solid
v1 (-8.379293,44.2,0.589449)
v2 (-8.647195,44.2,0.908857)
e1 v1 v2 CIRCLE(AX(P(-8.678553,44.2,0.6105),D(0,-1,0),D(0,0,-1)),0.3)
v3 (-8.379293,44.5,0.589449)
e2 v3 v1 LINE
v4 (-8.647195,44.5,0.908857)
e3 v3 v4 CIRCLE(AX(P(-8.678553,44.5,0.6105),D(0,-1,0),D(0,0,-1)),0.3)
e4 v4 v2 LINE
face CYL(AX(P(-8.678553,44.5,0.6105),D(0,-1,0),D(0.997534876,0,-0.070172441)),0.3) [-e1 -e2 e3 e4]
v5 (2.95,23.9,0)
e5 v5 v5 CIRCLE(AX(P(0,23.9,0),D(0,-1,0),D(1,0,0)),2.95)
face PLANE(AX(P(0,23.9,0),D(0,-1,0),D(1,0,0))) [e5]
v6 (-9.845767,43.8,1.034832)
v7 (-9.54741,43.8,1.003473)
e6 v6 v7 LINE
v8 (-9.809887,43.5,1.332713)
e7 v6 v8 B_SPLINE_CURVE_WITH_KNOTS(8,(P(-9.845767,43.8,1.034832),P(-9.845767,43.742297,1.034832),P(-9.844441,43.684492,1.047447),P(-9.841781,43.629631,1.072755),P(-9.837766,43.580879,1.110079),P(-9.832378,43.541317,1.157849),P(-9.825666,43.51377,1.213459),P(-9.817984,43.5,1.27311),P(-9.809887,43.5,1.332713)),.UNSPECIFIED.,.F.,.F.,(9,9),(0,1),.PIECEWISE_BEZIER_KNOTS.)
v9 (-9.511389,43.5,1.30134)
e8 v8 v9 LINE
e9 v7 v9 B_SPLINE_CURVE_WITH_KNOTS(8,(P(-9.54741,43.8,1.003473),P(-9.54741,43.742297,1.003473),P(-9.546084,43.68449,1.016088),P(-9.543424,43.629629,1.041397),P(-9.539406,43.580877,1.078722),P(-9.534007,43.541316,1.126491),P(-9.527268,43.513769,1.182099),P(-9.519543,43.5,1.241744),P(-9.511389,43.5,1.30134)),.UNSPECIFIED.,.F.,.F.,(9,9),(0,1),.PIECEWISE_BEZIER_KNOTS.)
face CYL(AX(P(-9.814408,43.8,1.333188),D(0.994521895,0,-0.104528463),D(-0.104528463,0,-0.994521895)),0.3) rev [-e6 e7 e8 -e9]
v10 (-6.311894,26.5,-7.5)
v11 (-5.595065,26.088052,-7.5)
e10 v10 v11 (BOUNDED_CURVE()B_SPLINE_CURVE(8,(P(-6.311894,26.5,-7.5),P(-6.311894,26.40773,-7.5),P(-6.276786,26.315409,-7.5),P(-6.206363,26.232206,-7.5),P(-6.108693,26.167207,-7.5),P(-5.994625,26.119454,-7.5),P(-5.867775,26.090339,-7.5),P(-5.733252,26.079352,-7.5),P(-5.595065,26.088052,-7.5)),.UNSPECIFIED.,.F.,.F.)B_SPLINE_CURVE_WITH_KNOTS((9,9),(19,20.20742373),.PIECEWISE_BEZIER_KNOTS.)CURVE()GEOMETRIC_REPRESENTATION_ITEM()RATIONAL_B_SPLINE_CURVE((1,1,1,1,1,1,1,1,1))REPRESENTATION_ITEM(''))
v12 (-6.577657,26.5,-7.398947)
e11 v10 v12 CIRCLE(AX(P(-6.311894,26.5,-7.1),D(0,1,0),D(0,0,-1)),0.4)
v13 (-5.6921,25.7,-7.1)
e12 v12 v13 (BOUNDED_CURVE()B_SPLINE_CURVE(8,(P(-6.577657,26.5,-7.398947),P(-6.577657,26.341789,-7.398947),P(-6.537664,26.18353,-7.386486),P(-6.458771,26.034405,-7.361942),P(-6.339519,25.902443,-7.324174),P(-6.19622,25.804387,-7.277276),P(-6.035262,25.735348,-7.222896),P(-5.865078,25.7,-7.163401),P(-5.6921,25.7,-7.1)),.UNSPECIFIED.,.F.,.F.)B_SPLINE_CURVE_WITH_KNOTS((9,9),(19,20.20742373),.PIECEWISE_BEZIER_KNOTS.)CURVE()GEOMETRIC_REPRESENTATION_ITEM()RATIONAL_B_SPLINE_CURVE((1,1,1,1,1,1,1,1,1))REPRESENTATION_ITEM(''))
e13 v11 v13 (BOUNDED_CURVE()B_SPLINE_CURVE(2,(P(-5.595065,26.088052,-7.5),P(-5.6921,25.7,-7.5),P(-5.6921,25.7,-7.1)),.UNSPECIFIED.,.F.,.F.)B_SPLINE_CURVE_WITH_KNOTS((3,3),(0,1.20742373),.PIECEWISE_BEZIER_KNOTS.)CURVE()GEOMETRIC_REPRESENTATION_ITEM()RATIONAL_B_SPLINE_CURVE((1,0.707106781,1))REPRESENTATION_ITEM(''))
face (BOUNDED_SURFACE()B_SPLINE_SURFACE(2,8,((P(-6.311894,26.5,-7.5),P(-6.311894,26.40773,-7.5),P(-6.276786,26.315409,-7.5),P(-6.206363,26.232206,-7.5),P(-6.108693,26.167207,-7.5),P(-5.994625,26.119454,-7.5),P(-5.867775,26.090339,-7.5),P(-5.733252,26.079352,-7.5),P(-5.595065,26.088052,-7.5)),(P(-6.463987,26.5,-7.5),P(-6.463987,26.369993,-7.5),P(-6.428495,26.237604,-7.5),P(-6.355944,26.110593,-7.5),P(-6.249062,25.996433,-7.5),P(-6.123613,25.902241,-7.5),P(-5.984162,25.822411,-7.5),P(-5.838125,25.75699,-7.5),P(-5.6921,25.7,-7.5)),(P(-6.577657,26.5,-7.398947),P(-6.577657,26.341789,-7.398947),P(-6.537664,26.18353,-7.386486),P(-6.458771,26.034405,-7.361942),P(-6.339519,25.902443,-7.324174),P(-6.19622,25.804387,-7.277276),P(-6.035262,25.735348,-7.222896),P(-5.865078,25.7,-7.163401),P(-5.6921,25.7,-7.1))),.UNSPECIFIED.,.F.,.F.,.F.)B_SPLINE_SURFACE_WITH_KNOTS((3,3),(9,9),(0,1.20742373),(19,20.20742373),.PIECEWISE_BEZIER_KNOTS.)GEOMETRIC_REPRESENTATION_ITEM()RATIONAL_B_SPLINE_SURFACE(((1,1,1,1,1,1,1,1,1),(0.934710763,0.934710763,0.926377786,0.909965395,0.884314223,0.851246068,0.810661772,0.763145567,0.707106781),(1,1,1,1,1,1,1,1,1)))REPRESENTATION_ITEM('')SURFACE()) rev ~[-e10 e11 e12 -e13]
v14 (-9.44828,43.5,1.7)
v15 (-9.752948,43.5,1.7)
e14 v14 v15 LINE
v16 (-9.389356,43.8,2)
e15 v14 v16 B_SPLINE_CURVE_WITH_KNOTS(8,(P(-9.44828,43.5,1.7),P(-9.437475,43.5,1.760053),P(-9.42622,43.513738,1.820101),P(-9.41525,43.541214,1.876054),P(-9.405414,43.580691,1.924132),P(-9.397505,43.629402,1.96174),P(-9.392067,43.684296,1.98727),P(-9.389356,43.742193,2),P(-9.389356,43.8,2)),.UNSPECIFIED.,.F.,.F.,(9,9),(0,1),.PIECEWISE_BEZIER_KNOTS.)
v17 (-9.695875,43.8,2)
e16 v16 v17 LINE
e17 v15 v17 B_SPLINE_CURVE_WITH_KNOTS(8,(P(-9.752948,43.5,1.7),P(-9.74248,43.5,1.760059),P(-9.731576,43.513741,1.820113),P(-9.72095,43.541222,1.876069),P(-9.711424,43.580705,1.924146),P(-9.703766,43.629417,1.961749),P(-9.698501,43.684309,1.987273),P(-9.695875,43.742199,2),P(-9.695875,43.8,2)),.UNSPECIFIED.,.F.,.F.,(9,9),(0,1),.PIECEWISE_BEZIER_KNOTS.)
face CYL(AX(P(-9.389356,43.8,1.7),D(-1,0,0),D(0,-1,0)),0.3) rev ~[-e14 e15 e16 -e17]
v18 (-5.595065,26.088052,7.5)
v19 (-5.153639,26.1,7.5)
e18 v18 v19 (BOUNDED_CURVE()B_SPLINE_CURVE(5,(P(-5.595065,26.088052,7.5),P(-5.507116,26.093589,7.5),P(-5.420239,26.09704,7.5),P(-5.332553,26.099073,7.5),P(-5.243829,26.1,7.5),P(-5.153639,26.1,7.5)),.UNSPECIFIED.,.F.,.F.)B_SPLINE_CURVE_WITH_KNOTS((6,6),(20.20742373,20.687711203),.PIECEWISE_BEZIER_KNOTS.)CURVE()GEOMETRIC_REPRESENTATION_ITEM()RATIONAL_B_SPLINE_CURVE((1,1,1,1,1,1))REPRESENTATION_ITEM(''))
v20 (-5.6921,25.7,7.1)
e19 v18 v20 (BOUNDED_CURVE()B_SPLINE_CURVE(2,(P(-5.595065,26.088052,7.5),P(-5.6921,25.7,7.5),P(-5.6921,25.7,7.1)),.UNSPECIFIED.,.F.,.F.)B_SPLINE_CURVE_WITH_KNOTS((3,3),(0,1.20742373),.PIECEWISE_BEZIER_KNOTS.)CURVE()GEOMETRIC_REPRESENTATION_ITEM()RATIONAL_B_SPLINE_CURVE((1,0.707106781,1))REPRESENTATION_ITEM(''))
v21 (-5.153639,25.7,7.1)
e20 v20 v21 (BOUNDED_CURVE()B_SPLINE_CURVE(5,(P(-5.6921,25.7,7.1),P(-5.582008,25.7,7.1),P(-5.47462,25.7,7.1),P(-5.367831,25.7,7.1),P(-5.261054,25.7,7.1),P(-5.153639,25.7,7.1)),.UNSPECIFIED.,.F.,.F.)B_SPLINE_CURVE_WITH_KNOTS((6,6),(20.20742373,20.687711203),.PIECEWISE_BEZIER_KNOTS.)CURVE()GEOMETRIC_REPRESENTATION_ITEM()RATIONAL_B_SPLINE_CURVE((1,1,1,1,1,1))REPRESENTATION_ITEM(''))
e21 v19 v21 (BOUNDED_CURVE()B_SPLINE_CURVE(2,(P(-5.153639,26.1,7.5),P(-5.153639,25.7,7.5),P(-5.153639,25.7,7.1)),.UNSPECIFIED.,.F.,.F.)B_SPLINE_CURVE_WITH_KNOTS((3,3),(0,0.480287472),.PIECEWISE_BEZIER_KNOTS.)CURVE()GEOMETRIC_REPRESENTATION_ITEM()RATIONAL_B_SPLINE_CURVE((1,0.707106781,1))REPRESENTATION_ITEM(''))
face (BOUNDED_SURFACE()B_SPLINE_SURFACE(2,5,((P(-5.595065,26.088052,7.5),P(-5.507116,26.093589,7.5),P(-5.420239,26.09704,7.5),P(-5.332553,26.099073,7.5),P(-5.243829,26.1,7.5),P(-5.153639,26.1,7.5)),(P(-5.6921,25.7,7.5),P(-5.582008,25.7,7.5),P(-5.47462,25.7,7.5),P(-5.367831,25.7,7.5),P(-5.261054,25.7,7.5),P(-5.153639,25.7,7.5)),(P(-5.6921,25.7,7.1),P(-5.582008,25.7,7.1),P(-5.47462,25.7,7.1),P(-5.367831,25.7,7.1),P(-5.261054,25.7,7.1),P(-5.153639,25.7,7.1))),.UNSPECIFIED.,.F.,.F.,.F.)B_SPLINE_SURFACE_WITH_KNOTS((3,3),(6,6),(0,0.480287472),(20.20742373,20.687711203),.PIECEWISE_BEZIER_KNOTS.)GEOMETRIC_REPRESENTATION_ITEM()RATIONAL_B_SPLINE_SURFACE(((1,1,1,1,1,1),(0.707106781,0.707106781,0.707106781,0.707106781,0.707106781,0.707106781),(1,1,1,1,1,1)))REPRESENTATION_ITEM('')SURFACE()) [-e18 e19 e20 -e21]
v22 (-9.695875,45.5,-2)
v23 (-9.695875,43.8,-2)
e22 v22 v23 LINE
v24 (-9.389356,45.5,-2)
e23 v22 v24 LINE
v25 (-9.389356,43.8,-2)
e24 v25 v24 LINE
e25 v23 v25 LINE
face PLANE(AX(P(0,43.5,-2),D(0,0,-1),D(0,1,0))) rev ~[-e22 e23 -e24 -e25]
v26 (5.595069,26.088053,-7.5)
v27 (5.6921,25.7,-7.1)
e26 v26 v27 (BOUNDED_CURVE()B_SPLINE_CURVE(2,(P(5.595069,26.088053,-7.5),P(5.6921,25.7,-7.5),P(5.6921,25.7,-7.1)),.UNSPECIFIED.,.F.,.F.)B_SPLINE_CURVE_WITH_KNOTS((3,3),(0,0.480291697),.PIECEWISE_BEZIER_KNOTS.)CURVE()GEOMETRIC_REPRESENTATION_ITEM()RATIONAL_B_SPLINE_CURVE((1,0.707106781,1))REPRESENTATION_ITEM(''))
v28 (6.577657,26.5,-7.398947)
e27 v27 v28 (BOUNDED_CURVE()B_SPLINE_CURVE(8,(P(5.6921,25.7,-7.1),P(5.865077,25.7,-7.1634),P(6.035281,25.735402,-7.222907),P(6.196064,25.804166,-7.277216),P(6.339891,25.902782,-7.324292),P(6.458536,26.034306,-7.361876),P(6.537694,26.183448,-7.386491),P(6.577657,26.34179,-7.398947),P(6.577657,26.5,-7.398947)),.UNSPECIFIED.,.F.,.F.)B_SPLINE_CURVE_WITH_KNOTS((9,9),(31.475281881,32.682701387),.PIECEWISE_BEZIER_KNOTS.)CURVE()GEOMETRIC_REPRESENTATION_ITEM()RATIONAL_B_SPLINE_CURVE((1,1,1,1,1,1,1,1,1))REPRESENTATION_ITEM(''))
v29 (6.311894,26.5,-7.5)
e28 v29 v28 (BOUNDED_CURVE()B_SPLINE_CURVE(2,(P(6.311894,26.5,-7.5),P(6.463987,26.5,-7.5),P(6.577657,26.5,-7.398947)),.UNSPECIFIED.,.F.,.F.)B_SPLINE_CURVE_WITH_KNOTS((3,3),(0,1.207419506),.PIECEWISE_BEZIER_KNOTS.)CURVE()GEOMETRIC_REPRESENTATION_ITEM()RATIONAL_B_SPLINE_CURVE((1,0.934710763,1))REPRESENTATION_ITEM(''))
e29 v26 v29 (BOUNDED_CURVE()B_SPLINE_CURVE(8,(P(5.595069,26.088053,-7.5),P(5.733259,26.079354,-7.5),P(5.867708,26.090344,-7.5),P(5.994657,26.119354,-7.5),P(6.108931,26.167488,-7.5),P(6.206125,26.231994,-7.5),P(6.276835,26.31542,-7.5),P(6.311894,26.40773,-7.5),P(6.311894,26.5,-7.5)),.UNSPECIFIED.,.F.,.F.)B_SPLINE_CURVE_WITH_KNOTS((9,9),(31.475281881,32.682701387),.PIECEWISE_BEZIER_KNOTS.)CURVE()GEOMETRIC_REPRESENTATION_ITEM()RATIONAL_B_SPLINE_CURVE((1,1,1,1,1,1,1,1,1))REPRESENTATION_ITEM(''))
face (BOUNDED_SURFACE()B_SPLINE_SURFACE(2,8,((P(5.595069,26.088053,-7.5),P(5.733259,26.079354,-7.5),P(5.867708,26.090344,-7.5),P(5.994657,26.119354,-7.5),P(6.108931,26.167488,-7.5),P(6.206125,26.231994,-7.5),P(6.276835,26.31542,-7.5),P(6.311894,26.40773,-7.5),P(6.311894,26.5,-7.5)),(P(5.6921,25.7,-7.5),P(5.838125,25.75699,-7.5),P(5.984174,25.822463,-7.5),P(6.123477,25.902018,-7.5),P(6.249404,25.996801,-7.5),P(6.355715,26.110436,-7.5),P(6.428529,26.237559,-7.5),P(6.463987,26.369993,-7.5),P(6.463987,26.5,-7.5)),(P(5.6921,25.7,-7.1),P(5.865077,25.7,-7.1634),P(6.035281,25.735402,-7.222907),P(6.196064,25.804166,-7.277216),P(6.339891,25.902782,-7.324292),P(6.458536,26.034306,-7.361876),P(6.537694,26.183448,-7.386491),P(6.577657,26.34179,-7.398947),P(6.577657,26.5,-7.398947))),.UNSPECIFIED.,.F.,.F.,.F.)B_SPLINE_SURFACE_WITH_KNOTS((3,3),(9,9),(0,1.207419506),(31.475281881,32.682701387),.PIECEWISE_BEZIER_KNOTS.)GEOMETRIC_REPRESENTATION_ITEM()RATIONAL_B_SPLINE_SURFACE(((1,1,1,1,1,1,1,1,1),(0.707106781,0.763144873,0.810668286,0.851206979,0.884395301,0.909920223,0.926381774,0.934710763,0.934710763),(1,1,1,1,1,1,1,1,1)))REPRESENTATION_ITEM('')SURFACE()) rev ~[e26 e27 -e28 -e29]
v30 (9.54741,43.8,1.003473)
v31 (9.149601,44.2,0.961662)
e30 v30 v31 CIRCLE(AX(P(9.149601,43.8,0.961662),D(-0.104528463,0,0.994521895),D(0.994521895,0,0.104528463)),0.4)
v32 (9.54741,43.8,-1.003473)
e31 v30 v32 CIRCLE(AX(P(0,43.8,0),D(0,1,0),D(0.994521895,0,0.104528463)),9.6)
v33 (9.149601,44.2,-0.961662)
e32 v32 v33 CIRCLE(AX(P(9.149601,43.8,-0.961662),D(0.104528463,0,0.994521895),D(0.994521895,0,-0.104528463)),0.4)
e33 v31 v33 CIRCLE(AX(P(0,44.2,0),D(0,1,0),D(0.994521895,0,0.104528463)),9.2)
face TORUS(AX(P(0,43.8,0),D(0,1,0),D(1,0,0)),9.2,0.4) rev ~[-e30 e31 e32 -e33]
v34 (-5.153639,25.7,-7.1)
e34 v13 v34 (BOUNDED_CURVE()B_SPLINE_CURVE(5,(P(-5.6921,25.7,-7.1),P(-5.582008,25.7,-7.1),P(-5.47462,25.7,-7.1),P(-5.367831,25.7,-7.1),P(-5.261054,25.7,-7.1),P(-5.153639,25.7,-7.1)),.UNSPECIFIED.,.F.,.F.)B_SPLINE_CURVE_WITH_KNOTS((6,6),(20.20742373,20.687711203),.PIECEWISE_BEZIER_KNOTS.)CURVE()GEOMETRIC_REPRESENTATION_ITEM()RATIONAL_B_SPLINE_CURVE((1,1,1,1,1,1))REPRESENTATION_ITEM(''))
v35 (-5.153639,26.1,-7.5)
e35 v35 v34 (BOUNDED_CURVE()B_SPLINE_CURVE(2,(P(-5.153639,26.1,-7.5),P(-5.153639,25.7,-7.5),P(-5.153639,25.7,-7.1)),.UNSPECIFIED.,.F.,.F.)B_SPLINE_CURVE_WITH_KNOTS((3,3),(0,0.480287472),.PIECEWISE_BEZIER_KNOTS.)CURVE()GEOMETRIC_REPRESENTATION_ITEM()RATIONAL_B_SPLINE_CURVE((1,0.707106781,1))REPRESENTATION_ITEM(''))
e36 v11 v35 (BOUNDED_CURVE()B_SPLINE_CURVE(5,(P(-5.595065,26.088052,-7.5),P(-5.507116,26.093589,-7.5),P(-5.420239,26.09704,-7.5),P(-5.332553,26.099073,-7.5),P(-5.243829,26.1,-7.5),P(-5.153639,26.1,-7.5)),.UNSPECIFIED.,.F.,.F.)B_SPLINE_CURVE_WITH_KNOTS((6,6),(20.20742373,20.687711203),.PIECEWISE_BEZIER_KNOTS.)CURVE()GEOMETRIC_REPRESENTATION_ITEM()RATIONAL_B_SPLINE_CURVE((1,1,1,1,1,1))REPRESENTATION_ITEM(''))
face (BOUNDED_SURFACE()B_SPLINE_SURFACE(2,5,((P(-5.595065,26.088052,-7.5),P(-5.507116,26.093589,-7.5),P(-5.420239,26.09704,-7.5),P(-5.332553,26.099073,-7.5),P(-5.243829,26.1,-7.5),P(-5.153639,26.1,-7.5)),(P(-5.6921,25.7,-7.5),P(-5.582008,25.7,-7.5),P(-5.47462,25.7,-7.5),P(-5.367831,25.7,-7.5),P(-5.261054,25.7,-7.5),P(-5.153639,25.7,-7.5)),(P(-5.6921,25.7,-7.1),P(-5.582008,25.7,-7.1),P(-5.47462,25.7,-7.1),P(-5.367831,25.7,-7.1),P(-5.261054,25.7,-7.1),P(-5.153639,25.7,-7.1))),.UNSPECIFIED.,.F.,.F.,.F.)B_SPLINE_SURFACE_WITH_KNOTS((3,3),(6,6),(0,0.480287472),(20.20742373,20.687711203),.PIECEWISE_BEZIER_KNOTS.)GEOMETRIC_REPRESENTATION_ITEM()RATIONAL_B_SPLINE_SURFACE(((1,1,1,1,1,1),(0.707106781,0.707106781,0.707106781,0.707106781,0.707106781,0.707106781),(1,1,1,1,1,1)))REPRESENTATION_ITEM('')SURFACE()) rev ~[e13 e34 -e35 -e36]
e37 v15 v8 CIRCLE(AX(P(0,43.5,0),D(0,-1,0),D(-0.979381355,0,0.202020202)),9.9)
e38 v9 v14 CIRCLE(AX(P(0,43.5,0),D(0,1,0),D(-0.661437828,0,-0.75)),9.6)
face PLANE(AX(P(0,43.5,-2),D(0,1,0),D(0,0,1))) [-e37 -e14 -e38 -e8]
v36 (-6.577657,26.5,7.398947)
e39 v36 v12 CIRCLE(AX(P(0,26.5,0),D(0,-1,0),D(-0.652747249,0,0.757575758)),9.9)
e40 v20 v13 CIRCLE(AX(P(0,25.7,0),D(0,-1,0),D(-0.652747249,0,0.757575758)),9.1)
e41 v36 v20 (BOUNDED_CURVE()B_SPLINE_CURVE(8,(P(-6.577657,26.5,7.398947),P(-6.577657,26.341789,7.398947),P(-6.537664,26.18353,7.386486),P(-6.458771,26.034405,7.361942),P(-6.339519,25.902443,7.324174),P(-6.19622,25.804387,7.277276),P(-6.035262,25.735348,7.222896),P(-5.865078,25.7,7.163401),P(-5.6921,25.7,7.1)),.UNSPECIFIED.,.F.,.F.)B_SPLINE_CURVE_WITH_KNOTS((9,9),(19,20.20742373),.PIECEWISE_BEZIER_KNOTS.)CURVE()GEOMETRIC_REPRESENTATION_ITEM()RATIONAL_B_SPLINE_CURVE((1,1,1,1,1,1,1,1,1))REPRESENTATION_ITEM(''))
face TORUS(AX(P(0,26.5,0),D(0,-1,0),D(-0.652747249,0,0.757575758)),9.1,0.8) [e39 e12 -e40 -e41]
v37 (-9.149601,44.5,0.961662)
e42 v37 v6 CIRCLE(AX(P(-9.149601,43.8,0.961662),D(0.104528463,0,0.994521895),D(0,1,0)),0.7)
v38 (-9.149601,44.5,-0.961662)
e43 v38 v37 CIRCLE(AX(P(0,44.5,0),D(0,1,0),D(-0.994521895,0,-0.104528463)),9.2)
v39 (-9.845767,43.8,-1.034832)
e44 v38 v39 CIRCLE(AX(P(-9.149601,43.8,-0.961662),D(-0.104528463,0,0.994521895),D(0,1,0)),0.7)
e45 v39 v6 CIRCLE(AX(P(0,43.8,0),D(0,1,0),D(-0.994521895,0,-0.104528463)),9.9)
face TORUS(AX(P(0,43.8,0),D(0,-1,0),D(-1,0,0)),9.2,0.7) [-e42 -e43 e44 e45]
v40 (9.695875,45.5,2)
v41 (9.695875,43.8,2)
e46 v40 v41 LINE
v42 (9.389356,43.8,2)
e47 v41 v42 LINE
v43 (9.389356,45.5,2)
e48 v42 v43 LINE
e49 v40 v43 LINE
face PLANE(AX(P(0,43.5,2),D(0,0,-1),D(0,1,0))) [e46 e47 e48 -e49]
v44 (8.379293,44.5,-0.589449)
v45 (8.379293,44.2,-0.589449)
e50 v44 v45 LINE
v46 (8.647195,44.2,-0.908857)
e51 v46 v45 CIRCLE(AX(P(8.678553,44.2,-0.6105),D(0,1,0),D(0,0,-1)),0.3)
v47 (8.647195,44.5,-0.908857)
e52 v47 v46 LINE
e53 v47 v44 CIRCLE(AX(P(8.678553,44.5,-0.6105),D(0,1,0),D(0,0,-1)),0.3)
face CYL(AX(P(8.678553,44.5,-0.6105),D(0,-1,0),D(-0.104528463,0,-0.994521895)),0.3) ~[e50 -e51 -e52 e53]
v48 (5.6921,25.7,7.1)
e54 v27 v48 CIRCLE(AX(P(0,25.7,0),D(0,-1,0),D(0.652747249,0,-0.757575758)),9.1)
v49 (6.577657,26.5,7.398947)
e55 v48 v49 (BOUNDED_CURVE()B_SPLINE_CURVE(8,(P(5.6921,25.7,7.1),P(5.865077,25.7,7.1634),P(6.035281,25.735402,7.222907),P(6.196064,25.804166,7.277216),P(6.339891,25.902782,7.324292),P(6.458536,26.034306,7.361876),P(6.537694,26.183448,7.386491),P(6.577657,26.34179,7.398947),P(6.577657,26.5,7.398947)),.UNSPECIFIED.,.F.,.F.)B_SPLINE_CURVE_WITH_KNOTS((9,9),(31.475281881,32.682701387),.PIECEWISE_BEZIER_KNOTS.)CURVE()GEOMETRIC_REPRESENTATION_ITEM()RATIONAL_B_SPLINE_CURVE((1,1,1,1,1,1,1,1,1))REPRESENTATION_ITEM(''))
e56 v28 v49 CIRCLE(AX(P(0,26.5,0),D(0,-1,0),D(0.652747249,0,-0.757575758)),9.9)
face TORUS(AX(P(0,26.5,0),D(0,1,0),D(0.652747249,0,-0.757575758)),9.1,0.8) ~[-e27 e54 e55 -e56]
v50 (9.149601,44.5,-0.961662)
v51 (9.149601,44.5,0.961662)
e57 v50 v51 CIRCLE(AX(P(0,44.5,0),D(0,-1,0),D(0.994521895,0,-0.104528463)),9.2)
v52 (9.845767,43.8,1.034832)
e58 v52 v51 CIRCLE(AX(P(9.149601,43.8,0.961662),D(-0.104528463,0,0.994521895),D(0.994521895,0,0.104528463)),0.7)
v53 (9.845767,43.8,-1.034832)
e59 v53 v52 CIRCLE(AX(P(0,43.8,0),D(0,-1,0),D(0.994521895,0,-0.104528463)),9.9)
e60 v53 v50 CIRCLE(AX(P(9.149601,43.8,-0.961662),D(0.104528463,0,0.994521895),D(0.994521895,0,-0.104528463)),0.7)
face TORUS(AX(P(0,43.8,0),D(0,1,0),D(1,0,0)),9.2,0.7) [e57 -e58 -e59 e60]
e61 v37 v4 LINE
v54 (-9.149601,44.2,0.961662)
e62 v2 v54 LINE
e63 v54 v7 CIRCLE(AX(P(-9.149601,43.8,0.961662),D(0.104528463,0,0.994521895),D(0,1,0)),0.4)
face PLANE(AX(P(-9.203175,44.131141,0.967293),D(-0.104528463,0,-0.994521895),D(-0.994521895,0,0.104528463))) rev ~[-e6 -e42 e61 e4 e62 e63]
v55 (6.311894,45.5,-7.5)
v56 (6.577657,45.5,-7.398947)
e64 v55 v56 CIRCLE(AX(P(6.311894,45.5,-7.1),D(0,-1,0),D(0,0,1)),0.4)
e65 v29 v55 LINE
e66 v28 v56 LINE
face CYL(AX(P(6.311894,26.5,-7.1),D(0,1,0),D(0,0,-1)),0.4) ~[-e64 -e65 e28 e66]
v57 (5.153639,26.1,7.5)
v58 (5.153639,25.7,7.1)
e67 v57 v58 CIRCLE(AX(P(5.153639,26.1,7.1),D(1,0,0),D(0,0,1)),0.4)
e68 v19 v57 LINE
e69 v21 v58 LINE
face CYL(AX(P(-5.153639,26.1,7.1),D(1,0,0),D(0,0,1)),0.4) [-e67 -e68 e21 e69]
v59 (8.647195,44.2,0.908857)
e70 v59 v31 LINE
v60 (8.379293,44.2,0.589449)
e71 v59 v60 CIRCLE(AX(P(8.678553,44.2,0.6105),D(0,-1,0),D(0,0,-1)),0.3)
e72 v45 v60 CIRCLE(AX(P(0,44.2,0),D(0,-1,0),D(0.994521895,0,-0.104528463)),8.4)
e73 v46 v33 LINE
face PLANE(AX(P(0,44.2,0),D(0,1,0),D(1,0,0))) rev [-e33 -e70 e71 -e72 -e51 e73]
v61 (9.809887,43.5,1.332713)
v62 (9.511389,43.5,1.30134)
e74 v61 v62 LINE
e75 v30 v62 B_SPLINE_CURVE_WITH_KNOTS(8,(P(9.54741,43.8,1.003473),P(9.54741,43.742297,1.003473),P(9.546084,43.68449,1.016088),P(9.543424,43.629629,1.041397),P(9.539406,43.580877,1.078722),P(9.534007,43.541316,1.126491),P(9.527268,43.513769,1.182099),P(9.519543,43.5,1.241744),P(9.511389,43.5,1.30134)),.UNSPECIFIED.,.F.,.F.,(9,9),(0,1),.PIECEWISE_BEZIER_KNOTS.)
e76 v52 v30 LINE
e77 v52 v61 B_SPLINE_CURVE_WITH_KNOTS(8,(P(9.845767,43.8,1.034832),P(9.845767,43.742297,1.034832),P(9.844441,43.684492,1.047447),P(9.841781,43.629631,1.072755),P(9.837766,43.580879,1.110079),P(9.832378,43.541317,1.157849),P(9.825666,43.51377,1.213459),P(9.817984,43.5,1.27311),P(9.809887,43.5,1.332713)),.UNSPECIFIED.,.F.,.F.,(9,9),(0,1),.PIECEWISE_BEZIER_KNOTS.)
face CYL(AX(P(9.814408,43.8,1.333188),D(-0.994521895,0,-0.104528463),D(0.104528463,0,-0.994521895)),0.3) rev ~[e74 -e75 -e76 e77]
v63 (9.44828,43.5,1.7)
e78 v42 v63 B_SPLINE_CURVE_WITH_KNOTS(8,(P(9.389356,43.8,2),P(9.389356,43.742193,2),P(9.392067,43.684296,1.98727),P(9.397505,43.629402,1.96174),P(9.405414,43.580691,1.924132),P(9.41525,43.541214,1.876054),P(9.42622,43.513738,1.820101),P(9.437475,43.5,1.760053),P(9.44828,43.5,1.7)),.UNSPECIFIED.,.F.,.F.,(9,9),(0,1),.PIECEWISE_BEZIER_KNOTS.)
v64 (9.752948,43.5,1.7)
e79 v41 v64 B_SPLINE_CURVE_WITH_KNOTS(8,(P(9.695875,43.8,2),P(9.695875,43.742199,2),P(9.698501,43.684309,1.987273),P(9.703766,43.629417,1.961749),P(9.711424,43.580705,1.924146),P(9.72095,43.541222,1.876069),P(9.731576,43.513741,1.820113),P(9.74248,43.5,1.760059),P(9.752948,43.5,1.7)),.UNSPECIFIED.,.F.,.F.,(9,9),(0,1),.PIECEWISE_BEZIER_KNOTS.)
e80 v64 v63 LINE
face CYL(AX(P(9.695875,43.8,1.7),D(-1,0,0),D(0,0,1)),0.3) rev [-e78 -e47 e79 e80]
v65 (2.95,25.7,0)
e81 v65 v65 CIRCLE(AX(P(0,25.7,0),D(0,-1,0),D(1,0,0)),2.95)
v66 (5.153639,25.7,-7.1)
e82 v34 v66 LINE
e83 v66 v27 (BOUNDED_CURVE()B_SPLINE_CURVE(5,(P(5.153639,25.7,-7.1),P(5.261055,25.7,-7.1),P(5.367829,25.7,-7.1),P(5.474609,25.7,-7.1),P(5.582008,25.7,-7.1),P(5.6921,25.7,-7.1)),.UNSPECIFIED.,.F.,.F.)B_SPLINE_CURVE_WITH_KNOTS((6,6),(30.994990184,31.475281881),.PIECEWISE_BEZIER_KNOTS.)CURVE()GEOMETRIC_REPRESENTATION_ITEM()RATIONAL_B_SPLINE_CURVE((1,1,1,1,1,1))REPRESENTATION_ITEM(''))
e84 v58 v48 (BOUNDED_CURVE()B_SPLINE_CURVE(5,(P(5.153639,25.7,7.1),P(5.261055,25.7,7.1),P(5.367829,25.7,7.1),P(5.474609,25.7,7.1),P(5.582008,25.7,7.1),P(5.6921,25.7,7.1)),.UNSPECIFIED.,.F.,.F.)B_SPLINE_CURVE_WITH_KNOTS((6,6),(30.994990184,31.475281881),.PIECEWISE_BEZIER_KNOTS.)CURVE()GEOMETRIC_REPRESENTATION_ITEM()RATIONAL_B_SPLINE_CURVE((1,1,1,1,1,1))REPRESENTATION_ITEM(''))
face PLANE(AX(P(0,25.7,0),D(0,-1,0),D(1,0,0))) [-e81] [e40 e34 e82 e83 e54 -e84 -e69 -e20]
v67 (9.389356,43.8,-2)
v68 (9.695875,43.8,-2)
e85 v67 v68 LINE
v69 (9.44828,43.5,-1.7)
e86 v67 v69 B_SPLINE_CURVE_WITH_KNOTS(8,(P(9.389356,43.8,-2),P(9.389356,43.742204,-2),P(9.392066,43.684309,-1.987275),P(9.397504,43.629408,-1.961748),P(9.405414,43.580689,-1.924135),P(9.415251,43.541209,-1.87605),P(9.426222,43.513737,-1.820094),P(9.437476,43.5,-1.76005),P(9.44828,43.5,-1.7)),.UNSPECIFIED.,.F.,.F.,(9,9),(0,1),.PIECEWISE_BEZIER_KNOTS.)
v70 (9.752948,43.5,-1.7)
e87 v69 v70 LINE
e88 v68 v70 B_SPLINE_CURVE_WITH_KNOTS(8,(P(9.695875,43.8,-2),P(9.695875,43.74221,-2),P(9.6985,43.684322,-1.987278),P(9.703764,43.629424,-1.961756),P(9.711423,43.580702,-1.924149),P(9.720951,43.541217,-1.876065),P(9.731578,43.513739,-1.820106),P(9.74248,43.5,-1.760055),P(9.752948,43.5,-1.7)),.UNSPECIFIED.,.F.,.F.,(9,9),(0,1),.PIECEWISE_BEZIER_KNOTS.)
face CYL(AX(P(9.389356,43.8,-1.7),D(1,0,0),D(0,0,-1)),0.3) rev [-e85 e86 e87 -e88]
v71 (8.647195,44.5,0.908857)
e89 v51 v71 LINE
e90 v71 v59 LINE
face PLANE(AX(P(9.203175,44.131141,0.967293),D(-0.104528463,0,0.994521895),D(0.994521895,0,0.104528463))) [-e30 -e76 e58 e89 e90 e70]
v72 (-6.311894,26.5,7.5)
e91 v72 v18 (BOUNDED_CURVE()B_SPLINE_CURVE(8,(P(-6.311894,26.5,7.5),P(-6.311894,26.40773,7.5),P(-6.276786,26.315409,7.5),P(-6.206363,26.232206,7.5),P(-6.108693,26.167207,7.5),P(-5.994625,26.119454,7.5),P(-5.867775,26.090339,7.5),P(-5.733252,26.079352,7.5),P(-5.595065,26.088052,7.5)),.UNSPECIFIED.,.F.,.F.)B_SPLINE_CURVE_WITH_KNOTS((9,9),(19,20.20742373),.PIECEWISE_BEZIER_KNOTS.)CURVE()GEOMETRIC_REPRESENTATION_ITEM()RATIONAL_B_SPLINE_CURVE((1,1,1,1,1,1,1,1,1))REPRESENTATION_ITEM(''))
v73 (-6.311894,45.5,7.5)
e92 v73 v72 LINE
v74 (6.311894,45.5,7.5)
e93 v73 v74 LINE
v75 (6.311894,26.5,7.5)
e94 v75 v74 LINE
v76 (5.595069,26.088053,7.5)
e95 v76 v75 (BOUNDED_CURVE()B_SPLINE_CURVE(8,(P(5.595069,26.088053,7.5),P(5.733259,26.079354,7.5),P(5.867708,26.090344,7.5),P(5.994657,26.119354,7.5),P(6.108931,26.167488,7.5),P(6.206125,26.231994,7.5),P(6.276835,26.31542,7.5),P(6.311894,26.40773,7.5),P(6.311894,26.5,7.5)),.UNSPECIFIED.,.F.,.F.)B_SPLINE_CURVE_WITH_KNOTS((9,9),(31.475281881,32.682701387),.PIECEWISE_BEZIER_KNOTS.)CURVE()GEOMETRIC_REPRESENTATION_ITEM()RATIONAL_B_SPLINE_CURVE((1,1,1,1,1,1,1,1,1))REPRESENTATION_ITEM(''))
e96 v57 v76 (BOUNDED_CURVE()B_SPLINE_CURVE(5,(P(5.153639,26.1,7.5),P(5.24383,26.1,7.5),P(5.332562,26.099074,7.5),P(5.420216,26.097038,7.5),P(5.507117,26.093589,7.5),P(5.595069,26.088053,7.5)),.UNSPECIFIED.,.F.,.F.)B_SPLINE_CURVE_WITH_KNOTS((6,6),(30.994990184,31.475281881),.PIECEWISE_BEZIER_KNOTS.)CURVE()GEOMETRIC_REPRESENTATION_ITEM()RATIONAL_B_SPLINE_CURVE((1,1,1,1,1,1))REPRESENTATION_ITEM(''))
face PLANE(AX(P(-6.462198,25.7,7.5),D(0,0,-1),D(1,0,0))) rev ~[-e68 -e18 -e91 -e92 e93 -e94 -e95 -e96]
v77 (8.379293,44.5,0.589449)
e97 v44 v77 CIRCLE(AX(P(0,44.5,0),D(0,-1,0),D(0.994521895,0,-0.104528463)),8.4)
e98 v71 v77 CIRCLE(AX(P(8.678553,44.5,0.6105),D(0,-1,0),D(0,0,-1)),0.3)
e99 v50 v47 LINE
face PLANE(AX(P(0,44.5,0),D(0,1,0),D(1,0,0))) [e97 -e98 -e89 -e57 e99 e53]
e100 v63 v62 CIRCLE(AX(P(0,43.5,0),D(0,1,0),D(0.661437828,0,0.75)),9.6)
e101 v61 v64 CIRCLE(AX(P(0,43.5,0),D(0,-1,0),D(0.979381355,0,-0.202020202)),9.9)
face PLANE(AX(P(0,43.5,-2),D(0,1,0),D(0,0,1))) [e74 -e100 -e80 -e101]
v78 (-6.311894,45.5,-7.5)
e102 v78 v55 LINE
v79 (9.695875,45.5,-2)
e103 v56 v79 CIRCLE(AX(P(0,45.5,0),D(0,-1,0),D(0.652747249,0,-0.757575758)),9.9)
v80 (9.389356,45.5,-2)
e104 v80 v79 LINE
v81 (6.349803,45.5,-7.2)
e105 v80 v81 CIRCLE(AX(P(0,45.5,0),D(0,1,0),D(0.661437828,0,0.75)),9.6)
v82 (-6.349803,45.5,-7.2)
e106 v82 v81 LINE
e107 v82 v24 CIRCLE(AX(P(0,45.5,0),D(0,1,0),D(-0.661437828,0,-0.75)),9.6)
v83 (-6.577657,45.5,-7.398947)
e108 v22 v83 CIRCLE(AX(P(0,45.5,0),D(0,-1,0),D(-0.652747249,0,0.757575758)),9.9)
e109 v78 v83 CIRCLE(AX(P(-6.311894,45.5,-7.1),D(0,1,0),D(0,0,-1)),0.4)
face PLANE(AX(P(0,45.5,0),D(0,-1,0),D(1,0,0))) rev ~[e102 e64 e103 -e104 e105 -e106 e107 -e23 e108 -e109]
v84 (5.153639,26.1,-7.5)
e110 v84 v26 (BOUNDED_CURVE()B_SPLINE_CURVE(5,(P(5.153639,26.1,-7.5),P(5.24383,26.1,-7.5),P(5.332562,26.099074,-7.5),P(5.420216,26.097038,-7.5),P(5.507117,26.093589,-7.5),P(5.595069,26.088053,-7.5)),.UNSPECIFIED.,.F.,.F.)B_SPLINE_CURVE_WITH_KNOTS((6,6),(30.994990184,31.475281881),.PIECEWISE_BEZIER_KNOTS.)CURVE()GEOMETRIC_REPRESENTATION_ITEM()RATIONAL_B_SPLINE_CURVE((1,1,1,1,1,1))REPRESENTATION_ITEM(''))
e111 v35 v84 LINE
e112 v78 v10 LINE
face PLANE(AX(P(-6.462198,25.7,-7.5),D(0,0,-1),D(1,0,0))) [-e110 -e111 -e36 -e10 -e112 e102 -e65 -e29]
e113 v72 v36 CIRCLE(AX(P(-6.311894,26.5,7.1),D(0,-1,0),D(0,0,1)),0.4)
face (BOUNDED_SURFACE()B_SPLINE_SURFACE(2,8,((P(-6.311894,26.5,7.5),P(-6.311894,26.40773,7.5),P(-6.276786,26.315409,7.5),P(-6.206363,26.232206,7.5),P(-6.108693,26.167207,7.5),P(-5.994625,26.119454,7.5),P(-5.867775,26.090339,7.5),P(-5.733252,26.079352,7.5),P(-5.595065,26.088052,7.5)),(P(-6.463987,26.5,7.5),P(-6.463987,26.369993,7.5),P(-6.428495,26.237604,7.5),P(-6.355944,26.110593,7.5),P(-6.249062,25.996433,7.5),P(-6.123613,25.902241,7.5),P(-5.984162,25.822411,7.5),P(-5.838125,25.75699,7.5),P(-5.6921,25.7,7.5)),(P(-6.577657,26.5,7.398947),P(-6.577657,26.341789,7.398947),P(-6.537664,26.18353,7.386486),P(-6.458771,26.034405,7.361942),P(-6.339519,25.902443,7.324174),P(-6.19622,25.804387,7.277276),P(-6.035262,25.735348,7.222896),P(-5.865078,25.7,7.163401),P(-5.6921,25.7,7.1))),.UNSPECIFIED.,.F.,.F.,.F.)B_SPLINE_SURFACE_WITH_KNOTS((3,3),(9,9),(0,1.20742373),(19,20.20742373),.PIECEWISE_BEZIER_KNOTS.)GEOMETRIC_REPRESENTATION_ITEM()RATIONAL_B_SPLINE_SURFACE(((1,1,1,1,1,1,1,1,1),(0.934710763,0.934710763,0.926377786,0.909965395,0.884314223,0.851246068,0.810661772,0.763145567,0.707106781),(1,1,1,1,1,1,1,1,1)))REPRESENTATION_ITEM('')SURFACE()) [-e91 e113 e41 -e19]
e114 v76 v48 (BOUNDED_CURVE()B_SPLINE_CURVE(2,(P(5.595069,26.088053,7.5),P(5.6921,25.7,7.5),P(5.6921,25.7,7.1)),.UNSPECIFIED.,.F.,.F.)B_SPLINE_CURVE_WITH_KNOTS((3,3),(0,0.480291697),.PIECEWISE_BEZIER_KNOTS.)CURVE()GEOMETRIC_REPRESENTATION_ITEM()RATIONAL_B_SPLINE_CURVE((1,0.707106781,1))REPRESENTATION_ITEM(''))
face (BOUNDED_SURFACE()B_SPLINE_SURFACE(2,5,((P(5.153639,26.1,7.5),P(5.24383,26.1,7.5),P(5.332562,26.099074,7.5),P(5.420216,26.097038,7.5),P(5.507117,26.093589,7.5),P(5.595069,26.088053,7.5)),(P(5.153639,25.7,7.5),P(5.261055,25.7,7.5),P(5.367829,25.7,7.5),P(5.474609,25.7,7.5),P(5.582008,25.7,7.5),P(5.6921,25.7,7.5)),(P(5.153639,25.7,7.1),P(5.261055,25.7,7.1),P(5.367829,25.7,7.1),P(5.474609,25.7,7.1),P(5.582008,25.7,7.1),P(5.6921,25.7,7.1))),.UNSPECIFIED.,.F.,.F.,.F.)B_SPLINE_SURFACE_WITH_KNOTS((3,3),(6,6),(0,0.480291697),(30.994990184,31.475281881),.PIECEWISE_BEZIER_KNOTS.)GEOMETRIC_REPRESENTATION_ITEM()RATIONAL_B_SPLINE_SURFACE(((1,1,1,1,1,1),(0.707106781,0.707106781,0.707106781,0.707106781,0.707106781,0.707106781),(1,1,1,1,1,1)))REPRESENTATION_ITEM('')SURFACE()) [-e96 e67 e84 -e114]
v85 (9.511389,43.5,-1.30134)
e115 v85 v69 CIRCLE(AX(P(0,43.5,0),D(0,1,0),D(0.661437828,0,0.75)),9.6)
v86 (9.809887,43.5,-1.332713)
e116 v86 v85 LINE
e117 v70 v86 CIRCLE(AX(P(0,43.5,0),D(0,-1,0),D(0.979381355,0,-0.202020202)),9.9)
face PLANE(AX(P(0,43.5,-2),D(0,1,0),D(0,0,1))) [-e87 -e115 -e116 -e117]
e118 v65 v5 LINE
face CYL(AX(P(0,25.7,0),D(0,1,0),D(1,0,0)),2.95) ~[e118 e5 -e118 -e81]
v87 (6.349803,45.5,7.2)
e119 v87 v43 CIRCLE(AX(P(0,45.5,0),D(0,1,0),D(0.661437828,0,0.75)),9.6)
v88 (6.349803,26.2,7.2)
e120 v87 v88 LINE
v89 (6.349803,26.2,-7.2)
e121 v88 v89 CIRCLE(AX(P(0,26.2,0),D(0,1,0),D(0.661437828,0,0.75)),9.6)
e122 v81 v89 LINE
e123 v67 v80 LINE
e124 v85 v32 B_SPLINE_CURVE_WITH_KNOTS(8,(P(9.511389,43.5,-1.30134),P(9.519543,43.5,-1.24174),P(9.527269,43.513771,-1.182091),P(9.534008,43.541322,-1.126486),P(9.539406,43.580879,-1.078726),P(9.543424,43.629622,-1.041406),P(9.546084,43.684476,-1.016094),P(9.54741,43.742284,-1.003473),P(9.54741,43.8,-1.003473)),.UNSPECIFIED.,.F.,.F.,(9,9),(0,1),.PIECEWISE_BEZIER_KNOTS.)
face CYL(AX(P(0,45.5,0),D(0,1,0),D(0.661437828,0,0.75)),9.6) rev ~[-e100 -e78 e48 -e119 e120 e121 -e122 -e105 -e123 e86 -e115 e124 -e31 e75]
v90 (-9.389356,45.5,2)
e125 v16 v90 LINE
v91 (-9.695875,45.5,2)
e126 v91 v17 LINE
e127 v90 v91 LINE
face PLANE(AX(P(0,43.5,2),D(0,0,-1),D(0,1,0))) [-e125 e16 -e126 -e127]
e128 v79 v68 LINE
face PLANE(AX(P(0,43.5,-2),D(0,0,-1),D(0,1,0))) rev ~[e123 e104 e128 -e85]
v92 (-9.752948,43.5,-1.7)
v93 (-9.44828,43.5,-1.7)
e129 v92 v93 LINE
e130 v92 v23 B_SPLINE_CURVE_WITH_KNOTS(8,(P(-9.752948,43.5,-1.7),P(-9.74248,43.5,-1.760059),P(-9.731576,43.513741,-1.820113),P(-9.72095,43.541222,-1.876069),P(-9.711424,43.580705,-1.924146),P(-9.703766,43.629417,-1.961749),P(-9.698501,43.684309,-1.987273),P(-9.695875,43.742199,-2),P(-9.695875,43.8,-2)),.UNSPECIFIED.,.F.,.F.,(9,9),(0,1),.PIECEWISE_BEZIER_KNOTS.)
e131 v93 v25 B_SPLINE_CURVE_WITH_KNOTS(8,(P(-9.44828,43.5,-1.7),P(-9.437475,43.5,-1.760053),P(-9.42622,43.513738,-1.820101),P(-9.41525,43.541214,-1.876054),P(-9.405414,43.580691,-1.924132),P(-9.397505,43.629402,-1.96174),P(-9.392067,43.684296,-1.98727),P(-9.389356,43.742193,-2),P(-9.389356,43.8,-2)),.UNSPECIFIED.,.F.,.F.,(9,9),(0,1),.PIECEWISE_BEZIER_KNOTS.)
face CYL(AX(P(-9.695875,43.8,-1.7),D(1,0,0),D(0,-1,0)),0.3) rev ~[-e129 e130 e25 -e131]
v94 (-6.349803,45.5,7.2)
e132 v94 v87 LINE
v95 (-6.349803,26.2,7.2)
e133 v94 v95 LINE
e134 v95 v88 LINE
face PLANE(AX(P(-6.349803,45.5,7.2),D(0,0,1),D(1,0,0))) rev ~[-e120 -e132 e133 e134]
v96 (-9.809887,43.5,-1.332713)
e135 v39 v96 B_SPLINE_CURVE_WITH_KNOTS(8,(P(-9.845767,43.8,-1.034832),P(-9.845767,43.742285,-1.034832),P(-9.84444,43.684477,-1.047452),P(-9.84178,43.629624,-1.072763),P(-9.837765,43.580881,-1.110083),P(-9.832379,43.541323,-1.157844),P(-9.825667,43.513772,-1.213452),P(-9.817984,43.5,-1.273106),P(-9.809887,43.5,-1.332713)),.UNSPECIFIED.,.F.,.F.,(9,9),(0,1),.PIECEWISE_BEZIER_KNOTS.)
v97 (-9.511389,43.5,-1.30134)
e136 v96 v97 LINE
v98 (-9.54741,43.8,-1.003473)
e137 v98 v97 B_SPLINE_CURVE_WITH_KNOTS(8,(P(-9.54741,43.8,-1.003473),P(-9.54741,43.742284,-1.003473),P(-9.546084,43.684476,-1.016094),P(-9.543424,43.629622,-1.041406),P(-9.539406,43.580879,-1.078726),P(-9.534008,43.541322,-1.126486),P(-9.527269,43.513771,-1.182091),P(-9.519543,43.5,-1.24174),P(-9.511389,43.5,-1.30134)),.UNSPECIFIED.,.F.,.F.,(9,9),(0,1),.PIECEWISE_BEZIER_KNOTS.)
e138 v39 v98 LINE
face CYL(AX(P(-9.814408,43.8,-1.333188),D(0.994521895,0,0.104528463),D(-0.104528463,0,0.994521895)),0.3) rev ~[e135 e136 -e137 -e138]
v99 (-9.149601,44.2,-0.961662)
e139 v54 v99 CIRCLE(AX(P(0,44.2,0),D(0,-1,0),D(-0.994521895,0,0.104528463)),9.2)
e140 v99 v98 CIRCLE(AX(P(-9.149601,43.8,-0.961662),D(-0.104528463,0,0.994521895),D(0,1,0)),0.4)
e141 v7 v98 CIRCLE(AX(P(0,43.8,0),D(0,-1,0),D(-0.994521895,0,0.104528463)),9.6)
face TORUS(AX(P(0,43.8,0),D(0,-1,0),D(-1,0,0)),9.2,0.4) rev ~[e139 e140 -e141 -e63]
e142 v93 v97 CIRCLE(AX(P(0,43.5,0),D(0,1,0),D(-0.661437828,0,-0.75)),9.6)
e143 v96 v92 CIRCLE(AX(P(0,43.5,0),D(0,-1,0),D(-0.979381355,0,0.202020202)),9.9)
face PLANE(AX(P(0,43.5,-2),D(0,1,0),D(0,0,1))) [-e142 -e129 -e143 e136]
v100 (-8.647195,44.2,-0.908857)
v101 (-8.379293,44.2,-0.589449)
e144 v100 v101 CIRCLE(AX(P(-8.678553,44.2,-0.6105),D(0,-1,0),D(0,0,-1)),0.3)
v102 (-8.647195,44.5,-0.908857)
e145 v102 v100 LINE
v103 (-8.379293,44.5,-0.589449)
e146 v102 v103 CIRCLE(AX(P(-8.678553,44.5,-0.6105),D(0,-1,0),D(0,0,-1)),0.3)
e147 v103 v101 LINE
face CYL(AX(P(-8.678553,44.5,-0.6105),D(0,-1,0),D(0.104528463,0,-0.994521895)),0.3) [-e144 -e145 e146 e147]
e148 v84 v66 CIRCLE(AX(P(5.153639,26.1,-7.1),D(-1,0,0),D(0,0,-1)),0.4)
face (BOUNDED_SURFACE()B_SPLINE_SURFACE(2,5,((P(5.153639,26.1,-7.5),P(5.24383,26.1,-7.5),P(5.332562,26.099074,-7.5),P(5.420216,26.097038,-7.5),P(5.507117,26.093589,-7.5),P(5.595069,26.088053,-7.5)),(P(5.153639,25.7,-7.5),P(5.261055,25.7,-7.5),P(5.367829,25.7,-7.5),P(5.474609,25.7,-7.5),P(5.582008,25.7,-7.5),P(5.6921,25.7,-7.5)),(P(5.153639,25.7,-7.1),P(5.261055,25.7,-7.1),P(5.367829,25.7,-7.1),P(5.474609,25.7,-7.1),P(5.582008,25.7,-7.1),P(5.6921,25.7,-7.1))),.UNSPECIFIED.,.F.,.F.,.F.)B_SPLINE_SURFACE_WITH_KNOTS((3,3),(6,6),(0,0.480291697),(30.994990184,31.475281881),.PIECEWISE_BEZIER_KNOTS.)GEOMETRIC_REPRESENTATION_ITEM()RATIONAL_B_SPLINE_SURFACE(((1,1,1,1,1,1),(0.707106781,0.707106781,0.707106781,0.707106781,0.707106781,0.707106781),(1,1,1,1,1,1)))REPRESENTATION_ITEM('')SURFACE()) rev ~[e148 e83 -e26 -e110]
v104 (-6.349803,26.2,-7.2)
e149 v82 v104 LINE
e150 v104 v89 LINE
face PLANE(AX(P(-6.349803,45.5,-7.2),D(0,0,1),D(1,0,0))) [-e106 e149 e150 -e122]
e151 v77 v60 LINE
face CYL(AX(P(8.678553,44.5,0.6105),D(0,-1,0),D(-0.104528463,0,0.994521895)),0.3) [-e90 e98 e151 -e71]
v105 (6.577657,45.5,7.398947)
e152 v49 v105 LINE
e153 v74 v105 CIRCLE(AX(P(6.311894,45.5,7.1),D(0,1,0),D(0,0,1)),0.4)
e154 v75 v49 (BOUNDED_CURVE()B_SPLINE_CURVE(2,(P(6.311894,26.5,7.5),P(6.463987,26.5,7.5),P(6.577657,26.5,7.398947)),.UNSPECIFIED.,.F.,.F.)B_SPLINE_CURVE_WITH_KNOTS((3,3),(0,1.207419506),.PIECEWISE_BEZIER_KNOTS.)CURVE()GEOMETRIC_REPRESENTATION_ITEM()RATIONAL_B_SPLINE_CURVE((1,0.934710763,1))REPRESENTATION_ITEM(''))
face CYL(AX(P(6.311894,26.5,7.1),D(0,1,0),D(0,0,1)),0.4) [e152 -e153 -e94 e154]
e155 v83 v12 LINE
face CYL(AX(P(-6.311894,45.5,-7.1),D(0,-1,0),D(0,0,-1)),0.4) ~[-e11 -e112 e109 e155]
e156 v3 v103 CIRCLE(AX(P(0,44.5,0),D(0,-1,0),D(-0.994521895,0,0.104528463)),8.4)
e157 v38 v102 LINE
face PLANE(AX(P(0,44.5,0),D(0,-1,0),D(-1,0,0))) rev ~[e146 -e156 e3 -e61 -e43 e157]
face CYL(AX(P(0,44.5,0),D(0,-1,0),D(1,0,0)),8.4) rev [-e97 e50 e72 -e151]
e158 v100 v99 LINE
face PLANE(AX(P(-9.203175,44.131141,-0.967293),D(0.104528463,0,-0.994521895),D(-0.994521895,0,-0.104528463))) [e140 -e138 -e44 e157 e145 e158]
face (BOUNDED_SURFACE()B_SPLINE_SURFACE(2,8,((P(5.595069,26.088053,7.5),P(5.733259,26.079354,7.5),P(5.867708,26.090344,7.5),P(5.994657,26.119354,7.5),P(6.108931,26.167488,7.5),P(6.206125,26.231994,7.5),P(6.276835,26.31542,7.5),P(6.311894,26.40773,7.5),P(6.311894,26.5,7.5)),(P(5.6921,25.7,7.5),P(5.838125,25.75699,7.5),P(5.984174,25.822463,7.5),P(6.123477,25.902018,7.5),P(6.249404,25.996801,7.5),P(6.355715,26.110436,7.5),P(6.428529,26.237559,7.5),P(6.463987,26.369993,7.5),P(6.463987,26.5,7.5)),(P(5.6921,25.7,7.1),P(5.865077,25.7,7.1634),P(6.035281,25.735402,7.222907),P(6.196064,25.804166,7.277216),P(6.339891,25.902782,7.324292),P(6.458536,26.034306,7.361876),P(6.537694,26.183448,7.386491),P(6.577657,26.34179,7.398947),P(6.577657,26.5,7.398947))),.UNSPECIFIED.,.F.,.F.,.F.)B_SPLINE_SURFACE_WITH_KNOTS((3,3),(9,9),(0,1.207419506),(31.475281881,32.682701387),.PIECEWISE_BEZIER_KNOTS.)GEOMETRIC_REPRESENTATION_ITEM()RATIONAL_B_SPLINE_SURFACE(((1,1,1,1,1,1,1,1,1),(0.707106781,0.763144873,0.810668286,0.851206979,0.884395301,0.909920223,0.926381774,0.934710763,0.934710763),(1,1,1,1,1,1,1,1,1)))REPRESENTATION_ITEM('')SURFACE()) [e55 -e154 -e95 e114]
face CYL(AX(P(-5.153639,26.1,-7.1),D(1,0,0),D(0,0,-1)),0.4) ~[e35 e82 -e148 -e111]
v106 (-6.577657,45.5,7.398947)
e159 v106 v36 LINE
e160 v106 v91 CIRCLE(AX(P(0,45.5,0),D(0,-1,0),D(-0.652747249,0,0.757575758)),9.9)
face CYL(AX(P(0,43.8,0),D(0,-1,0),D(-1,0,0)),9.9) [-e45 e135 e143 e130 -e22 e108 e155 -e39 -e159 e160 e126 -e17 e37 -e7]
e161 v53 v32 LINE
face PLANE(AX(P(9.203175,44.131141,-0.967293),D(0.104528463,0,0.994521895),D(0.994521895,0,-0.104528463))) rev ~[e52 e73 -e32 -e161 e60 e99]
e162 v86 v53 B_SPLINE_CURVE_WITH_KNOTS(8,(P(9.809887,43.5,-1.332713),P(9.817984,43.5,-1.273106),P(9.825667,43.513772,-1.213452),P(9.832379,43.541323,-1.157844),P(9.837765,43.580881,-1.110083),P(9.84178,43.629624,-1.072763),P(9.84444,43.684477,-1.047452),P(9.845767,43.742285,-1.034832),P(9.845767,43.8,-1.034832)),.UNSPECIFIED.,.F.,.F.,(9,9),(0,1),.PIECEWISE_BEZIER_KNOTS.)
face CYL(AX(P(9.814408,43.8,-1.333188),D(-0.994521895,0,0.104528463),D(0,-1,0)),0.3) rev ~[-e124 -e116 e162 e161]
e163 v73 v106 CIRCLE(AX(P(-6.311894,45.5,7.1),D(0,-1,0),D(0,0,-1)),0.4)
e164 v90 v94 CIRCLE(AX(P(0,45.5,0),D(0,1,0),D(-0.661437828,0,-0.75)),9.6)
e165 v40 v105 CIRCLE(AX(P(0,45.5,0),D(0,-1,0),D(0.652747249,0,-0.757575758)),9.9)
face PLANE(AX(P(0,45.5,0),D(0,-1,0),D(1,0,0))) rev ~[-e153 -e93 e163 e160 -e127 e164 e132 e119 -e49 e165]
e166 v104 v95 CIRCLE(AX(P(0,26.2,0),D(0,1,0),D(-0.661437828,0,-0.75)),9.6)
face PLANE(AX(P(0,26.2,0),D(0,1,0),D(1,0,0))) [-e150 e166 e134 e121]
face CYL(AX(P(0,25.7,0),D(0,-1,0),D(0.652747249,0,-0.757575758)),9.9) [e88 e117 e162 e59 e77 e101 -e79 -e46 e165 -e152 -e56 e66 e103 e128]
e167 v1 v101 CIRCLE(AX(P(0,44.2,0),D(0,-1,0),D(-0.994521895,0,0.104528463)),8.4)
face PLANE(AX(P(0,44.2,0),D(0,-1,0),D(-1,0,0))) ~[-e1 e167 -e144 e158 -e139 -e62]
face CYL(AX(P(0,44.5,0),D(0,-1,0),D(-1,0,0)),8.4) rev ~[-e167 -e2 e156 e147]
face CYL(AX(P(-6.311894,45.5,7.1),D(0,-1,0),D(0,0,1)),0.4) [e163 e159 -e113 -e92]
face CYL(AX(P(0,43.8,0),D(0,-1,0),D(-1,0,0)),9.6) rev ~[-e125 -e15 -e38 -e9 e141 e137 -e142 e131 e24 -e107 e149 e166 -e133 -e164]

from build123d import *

# Parameters (mm, degrees)
PAD036_DEPTH        = 19.8
POCKET018_DEPTH     = 19.3
SKETCH066_W         = 2
SKETCH066_H         = 4
POCKET019_DEPTH     = 9.9
REVOLUTION001_ANGLE = 12
SKETCH070_R         = 2.95
PAD044_DEPTH        = 1.8
FILLET016_R         = 0.3
FILLET017_R         = 0.8
FILLET018_R         = 0.4


with BuildPart() as part:
    # Sketch050 → Pad036 (new body)
    with BuildSketch(Plane.XZ):
        with BuildLine():
            ThreePointArc((-6.4621977686, 7.5), (-9.9, 0), (-6.4621977686, -7.5))
            Line((-6.4621977686, -7.5), (6.4621977686, -7.5))
            ThreePointArc((6.4621977686, -7.5), (9.9, 0), (6.4621977686, 7.5))
            Line((-6.4621977686, 7.5), (6.4621977686, 7.5))
        make_face()
    extrude(amount=-PAD036_DEPTH)

    # Sketch065 (on Face6 of Pad036) → Pocket018 (cut)
    with BuildSketch(Plane(origin=(0, 19.8, 0), x_dir=(1, 0, 0), z_dir=(0, 1, 0))):
        with BuildLine():
            ThreePointArc((6.3498031466, -7.2), (9.6, 0), (6.3498031466, 7.2))
            Line((-6.3498031466, 7.2), (6.3498031466, 7.2))
            ThreePointArc((-6.3498031466, 7.2), (-9.6, 0), (-6.3498031466, -7.2))
            Line((-6.3498031466, -7.2), (6.3498031466, -7.2))
        make_face()
    extrude(amount=-POCKET018_DEPTH, mode=Mode.SUBTRACT)

    # Sketch066 → Pocket019 (cut, symmetric)
    with BuildSketch(Plane.YZ):
        with Locations((18.8, 0)):
            Rectangle(SKETCH066_W, SKETCH066_H)
    extrude(amount=POCKET019_DEPTH, both=True, mode=Mode.SUBTRACT)

    # Sketch029 → Revolution001 (revolve, symmetric)
    with BuildSketch(Plane.XY) as revolution001_sk:
        with BuildLine():
            Line((-9.2, 18.8), (-8.4, 18.8))
            Line((-8.4, 18.8), (-8.4, 18.5))
            Line((-8.4, 18.5), (-9.2, 18.5))
            ThreePointArc((-9.2, 18.5), (-9.4828427125, 18.3828427125), (-9.6, 18.1))
            Line((-9.6, 18.1), (-9.6, 17.8))
            Line((-9.9, 17.8), (-9.6, 17.8))
            Line((-9.9, 18.1), (-9.9, 17.8))
            ThreePointArc((-9.2, 18.8), (-9.6949747468, 18.5949747468), (-9.9, 18.1))
        make_face()
        with BuildLine():
            Line((9.2, 18.8), (8.4, 18.8))
            Line((8.4, 18.8), (8.4, 18.5))
            Line((8.4, 18.5), (9.2, 18.5))
            ThreePointArc((9.6, 18.1), (9.4828427125, 18.3828427125), (9.2, 18.5))
            Line((9.6, 18.1), (9.6, 17.8))
            Line((9.9, 17.8), (9.6, 17.8))
            Line((9.9, 18.1), (9.9, 17.8))
            ThreePointArc((9.9, 18.1), (9.6949747468, 18.5949747468), (9.2, 18.8))
        make_face()
    revolve(axis=Axis((0, 0, 0), (0, 1, 0)), revolution_arc=REVOLUTION001_ANGLE / 2)
    revolve(revolution001_sk.sketch, axis=Axis((0, 0, 0), (0, -1, 0)), revolution_arc=REVOLUTION001_ANGLE / 2)

    # Sketch070 (on Face5 of Revolution001) → Pad044 (join)
    with BuildSketch(Plane.XZ):
        Circle(SKETCH070_R)
    extrude(amount=PAD044_DEPTH)

    # Fillet016
    fillet016_edges = [part.edges().sort_by_distance(p)[0] for p in [
        (-9.696588, 17.8, -1.019153),
        (-9.542616, 17.8, -2),
        (-9.696588, 17.8, 1.019153),
        (-9.542616, 17.8, 2),
        (-8.353984, 18.65, 0.878039),
        (-8.353984, 18.65, -0.878039),
        (9.542616, 17.8, -2),
        (9.696588, 17.8, -1.019153),
        (9.696588, 17.8, 1.019153),
        (9.542616, 17.8, 2),
        (8.353984, 18.65, 0.878039),
        (8.353984, 18.65, -0.878039),
    ]]
    fillet(fillet016_edges, radius=FILLET016_R)

    # Fillet017
    fillet017_edges = [part.edges().sort_by_distance(p)[0] for p in [
        (9.9, 0, 0),
        (-9.9, 0, 0),
    ]]
    fillet(fillet017_edges, radius=FILLET017_R)

    # Fillet018
    fillet018_edges = [part.edges().sort_by_distance(p)[0] for p in [
        (0, 0, -7.5),
        (0, 0, 7.5),
    ]]
    fillet(fillet018_edges, radius=FILLET018_R)


with BuildPart() as part_1:
    # Body022 placement: moved
    add(part.part.moved(Location((0, 25.7, 0))))


solid = part_1.part
